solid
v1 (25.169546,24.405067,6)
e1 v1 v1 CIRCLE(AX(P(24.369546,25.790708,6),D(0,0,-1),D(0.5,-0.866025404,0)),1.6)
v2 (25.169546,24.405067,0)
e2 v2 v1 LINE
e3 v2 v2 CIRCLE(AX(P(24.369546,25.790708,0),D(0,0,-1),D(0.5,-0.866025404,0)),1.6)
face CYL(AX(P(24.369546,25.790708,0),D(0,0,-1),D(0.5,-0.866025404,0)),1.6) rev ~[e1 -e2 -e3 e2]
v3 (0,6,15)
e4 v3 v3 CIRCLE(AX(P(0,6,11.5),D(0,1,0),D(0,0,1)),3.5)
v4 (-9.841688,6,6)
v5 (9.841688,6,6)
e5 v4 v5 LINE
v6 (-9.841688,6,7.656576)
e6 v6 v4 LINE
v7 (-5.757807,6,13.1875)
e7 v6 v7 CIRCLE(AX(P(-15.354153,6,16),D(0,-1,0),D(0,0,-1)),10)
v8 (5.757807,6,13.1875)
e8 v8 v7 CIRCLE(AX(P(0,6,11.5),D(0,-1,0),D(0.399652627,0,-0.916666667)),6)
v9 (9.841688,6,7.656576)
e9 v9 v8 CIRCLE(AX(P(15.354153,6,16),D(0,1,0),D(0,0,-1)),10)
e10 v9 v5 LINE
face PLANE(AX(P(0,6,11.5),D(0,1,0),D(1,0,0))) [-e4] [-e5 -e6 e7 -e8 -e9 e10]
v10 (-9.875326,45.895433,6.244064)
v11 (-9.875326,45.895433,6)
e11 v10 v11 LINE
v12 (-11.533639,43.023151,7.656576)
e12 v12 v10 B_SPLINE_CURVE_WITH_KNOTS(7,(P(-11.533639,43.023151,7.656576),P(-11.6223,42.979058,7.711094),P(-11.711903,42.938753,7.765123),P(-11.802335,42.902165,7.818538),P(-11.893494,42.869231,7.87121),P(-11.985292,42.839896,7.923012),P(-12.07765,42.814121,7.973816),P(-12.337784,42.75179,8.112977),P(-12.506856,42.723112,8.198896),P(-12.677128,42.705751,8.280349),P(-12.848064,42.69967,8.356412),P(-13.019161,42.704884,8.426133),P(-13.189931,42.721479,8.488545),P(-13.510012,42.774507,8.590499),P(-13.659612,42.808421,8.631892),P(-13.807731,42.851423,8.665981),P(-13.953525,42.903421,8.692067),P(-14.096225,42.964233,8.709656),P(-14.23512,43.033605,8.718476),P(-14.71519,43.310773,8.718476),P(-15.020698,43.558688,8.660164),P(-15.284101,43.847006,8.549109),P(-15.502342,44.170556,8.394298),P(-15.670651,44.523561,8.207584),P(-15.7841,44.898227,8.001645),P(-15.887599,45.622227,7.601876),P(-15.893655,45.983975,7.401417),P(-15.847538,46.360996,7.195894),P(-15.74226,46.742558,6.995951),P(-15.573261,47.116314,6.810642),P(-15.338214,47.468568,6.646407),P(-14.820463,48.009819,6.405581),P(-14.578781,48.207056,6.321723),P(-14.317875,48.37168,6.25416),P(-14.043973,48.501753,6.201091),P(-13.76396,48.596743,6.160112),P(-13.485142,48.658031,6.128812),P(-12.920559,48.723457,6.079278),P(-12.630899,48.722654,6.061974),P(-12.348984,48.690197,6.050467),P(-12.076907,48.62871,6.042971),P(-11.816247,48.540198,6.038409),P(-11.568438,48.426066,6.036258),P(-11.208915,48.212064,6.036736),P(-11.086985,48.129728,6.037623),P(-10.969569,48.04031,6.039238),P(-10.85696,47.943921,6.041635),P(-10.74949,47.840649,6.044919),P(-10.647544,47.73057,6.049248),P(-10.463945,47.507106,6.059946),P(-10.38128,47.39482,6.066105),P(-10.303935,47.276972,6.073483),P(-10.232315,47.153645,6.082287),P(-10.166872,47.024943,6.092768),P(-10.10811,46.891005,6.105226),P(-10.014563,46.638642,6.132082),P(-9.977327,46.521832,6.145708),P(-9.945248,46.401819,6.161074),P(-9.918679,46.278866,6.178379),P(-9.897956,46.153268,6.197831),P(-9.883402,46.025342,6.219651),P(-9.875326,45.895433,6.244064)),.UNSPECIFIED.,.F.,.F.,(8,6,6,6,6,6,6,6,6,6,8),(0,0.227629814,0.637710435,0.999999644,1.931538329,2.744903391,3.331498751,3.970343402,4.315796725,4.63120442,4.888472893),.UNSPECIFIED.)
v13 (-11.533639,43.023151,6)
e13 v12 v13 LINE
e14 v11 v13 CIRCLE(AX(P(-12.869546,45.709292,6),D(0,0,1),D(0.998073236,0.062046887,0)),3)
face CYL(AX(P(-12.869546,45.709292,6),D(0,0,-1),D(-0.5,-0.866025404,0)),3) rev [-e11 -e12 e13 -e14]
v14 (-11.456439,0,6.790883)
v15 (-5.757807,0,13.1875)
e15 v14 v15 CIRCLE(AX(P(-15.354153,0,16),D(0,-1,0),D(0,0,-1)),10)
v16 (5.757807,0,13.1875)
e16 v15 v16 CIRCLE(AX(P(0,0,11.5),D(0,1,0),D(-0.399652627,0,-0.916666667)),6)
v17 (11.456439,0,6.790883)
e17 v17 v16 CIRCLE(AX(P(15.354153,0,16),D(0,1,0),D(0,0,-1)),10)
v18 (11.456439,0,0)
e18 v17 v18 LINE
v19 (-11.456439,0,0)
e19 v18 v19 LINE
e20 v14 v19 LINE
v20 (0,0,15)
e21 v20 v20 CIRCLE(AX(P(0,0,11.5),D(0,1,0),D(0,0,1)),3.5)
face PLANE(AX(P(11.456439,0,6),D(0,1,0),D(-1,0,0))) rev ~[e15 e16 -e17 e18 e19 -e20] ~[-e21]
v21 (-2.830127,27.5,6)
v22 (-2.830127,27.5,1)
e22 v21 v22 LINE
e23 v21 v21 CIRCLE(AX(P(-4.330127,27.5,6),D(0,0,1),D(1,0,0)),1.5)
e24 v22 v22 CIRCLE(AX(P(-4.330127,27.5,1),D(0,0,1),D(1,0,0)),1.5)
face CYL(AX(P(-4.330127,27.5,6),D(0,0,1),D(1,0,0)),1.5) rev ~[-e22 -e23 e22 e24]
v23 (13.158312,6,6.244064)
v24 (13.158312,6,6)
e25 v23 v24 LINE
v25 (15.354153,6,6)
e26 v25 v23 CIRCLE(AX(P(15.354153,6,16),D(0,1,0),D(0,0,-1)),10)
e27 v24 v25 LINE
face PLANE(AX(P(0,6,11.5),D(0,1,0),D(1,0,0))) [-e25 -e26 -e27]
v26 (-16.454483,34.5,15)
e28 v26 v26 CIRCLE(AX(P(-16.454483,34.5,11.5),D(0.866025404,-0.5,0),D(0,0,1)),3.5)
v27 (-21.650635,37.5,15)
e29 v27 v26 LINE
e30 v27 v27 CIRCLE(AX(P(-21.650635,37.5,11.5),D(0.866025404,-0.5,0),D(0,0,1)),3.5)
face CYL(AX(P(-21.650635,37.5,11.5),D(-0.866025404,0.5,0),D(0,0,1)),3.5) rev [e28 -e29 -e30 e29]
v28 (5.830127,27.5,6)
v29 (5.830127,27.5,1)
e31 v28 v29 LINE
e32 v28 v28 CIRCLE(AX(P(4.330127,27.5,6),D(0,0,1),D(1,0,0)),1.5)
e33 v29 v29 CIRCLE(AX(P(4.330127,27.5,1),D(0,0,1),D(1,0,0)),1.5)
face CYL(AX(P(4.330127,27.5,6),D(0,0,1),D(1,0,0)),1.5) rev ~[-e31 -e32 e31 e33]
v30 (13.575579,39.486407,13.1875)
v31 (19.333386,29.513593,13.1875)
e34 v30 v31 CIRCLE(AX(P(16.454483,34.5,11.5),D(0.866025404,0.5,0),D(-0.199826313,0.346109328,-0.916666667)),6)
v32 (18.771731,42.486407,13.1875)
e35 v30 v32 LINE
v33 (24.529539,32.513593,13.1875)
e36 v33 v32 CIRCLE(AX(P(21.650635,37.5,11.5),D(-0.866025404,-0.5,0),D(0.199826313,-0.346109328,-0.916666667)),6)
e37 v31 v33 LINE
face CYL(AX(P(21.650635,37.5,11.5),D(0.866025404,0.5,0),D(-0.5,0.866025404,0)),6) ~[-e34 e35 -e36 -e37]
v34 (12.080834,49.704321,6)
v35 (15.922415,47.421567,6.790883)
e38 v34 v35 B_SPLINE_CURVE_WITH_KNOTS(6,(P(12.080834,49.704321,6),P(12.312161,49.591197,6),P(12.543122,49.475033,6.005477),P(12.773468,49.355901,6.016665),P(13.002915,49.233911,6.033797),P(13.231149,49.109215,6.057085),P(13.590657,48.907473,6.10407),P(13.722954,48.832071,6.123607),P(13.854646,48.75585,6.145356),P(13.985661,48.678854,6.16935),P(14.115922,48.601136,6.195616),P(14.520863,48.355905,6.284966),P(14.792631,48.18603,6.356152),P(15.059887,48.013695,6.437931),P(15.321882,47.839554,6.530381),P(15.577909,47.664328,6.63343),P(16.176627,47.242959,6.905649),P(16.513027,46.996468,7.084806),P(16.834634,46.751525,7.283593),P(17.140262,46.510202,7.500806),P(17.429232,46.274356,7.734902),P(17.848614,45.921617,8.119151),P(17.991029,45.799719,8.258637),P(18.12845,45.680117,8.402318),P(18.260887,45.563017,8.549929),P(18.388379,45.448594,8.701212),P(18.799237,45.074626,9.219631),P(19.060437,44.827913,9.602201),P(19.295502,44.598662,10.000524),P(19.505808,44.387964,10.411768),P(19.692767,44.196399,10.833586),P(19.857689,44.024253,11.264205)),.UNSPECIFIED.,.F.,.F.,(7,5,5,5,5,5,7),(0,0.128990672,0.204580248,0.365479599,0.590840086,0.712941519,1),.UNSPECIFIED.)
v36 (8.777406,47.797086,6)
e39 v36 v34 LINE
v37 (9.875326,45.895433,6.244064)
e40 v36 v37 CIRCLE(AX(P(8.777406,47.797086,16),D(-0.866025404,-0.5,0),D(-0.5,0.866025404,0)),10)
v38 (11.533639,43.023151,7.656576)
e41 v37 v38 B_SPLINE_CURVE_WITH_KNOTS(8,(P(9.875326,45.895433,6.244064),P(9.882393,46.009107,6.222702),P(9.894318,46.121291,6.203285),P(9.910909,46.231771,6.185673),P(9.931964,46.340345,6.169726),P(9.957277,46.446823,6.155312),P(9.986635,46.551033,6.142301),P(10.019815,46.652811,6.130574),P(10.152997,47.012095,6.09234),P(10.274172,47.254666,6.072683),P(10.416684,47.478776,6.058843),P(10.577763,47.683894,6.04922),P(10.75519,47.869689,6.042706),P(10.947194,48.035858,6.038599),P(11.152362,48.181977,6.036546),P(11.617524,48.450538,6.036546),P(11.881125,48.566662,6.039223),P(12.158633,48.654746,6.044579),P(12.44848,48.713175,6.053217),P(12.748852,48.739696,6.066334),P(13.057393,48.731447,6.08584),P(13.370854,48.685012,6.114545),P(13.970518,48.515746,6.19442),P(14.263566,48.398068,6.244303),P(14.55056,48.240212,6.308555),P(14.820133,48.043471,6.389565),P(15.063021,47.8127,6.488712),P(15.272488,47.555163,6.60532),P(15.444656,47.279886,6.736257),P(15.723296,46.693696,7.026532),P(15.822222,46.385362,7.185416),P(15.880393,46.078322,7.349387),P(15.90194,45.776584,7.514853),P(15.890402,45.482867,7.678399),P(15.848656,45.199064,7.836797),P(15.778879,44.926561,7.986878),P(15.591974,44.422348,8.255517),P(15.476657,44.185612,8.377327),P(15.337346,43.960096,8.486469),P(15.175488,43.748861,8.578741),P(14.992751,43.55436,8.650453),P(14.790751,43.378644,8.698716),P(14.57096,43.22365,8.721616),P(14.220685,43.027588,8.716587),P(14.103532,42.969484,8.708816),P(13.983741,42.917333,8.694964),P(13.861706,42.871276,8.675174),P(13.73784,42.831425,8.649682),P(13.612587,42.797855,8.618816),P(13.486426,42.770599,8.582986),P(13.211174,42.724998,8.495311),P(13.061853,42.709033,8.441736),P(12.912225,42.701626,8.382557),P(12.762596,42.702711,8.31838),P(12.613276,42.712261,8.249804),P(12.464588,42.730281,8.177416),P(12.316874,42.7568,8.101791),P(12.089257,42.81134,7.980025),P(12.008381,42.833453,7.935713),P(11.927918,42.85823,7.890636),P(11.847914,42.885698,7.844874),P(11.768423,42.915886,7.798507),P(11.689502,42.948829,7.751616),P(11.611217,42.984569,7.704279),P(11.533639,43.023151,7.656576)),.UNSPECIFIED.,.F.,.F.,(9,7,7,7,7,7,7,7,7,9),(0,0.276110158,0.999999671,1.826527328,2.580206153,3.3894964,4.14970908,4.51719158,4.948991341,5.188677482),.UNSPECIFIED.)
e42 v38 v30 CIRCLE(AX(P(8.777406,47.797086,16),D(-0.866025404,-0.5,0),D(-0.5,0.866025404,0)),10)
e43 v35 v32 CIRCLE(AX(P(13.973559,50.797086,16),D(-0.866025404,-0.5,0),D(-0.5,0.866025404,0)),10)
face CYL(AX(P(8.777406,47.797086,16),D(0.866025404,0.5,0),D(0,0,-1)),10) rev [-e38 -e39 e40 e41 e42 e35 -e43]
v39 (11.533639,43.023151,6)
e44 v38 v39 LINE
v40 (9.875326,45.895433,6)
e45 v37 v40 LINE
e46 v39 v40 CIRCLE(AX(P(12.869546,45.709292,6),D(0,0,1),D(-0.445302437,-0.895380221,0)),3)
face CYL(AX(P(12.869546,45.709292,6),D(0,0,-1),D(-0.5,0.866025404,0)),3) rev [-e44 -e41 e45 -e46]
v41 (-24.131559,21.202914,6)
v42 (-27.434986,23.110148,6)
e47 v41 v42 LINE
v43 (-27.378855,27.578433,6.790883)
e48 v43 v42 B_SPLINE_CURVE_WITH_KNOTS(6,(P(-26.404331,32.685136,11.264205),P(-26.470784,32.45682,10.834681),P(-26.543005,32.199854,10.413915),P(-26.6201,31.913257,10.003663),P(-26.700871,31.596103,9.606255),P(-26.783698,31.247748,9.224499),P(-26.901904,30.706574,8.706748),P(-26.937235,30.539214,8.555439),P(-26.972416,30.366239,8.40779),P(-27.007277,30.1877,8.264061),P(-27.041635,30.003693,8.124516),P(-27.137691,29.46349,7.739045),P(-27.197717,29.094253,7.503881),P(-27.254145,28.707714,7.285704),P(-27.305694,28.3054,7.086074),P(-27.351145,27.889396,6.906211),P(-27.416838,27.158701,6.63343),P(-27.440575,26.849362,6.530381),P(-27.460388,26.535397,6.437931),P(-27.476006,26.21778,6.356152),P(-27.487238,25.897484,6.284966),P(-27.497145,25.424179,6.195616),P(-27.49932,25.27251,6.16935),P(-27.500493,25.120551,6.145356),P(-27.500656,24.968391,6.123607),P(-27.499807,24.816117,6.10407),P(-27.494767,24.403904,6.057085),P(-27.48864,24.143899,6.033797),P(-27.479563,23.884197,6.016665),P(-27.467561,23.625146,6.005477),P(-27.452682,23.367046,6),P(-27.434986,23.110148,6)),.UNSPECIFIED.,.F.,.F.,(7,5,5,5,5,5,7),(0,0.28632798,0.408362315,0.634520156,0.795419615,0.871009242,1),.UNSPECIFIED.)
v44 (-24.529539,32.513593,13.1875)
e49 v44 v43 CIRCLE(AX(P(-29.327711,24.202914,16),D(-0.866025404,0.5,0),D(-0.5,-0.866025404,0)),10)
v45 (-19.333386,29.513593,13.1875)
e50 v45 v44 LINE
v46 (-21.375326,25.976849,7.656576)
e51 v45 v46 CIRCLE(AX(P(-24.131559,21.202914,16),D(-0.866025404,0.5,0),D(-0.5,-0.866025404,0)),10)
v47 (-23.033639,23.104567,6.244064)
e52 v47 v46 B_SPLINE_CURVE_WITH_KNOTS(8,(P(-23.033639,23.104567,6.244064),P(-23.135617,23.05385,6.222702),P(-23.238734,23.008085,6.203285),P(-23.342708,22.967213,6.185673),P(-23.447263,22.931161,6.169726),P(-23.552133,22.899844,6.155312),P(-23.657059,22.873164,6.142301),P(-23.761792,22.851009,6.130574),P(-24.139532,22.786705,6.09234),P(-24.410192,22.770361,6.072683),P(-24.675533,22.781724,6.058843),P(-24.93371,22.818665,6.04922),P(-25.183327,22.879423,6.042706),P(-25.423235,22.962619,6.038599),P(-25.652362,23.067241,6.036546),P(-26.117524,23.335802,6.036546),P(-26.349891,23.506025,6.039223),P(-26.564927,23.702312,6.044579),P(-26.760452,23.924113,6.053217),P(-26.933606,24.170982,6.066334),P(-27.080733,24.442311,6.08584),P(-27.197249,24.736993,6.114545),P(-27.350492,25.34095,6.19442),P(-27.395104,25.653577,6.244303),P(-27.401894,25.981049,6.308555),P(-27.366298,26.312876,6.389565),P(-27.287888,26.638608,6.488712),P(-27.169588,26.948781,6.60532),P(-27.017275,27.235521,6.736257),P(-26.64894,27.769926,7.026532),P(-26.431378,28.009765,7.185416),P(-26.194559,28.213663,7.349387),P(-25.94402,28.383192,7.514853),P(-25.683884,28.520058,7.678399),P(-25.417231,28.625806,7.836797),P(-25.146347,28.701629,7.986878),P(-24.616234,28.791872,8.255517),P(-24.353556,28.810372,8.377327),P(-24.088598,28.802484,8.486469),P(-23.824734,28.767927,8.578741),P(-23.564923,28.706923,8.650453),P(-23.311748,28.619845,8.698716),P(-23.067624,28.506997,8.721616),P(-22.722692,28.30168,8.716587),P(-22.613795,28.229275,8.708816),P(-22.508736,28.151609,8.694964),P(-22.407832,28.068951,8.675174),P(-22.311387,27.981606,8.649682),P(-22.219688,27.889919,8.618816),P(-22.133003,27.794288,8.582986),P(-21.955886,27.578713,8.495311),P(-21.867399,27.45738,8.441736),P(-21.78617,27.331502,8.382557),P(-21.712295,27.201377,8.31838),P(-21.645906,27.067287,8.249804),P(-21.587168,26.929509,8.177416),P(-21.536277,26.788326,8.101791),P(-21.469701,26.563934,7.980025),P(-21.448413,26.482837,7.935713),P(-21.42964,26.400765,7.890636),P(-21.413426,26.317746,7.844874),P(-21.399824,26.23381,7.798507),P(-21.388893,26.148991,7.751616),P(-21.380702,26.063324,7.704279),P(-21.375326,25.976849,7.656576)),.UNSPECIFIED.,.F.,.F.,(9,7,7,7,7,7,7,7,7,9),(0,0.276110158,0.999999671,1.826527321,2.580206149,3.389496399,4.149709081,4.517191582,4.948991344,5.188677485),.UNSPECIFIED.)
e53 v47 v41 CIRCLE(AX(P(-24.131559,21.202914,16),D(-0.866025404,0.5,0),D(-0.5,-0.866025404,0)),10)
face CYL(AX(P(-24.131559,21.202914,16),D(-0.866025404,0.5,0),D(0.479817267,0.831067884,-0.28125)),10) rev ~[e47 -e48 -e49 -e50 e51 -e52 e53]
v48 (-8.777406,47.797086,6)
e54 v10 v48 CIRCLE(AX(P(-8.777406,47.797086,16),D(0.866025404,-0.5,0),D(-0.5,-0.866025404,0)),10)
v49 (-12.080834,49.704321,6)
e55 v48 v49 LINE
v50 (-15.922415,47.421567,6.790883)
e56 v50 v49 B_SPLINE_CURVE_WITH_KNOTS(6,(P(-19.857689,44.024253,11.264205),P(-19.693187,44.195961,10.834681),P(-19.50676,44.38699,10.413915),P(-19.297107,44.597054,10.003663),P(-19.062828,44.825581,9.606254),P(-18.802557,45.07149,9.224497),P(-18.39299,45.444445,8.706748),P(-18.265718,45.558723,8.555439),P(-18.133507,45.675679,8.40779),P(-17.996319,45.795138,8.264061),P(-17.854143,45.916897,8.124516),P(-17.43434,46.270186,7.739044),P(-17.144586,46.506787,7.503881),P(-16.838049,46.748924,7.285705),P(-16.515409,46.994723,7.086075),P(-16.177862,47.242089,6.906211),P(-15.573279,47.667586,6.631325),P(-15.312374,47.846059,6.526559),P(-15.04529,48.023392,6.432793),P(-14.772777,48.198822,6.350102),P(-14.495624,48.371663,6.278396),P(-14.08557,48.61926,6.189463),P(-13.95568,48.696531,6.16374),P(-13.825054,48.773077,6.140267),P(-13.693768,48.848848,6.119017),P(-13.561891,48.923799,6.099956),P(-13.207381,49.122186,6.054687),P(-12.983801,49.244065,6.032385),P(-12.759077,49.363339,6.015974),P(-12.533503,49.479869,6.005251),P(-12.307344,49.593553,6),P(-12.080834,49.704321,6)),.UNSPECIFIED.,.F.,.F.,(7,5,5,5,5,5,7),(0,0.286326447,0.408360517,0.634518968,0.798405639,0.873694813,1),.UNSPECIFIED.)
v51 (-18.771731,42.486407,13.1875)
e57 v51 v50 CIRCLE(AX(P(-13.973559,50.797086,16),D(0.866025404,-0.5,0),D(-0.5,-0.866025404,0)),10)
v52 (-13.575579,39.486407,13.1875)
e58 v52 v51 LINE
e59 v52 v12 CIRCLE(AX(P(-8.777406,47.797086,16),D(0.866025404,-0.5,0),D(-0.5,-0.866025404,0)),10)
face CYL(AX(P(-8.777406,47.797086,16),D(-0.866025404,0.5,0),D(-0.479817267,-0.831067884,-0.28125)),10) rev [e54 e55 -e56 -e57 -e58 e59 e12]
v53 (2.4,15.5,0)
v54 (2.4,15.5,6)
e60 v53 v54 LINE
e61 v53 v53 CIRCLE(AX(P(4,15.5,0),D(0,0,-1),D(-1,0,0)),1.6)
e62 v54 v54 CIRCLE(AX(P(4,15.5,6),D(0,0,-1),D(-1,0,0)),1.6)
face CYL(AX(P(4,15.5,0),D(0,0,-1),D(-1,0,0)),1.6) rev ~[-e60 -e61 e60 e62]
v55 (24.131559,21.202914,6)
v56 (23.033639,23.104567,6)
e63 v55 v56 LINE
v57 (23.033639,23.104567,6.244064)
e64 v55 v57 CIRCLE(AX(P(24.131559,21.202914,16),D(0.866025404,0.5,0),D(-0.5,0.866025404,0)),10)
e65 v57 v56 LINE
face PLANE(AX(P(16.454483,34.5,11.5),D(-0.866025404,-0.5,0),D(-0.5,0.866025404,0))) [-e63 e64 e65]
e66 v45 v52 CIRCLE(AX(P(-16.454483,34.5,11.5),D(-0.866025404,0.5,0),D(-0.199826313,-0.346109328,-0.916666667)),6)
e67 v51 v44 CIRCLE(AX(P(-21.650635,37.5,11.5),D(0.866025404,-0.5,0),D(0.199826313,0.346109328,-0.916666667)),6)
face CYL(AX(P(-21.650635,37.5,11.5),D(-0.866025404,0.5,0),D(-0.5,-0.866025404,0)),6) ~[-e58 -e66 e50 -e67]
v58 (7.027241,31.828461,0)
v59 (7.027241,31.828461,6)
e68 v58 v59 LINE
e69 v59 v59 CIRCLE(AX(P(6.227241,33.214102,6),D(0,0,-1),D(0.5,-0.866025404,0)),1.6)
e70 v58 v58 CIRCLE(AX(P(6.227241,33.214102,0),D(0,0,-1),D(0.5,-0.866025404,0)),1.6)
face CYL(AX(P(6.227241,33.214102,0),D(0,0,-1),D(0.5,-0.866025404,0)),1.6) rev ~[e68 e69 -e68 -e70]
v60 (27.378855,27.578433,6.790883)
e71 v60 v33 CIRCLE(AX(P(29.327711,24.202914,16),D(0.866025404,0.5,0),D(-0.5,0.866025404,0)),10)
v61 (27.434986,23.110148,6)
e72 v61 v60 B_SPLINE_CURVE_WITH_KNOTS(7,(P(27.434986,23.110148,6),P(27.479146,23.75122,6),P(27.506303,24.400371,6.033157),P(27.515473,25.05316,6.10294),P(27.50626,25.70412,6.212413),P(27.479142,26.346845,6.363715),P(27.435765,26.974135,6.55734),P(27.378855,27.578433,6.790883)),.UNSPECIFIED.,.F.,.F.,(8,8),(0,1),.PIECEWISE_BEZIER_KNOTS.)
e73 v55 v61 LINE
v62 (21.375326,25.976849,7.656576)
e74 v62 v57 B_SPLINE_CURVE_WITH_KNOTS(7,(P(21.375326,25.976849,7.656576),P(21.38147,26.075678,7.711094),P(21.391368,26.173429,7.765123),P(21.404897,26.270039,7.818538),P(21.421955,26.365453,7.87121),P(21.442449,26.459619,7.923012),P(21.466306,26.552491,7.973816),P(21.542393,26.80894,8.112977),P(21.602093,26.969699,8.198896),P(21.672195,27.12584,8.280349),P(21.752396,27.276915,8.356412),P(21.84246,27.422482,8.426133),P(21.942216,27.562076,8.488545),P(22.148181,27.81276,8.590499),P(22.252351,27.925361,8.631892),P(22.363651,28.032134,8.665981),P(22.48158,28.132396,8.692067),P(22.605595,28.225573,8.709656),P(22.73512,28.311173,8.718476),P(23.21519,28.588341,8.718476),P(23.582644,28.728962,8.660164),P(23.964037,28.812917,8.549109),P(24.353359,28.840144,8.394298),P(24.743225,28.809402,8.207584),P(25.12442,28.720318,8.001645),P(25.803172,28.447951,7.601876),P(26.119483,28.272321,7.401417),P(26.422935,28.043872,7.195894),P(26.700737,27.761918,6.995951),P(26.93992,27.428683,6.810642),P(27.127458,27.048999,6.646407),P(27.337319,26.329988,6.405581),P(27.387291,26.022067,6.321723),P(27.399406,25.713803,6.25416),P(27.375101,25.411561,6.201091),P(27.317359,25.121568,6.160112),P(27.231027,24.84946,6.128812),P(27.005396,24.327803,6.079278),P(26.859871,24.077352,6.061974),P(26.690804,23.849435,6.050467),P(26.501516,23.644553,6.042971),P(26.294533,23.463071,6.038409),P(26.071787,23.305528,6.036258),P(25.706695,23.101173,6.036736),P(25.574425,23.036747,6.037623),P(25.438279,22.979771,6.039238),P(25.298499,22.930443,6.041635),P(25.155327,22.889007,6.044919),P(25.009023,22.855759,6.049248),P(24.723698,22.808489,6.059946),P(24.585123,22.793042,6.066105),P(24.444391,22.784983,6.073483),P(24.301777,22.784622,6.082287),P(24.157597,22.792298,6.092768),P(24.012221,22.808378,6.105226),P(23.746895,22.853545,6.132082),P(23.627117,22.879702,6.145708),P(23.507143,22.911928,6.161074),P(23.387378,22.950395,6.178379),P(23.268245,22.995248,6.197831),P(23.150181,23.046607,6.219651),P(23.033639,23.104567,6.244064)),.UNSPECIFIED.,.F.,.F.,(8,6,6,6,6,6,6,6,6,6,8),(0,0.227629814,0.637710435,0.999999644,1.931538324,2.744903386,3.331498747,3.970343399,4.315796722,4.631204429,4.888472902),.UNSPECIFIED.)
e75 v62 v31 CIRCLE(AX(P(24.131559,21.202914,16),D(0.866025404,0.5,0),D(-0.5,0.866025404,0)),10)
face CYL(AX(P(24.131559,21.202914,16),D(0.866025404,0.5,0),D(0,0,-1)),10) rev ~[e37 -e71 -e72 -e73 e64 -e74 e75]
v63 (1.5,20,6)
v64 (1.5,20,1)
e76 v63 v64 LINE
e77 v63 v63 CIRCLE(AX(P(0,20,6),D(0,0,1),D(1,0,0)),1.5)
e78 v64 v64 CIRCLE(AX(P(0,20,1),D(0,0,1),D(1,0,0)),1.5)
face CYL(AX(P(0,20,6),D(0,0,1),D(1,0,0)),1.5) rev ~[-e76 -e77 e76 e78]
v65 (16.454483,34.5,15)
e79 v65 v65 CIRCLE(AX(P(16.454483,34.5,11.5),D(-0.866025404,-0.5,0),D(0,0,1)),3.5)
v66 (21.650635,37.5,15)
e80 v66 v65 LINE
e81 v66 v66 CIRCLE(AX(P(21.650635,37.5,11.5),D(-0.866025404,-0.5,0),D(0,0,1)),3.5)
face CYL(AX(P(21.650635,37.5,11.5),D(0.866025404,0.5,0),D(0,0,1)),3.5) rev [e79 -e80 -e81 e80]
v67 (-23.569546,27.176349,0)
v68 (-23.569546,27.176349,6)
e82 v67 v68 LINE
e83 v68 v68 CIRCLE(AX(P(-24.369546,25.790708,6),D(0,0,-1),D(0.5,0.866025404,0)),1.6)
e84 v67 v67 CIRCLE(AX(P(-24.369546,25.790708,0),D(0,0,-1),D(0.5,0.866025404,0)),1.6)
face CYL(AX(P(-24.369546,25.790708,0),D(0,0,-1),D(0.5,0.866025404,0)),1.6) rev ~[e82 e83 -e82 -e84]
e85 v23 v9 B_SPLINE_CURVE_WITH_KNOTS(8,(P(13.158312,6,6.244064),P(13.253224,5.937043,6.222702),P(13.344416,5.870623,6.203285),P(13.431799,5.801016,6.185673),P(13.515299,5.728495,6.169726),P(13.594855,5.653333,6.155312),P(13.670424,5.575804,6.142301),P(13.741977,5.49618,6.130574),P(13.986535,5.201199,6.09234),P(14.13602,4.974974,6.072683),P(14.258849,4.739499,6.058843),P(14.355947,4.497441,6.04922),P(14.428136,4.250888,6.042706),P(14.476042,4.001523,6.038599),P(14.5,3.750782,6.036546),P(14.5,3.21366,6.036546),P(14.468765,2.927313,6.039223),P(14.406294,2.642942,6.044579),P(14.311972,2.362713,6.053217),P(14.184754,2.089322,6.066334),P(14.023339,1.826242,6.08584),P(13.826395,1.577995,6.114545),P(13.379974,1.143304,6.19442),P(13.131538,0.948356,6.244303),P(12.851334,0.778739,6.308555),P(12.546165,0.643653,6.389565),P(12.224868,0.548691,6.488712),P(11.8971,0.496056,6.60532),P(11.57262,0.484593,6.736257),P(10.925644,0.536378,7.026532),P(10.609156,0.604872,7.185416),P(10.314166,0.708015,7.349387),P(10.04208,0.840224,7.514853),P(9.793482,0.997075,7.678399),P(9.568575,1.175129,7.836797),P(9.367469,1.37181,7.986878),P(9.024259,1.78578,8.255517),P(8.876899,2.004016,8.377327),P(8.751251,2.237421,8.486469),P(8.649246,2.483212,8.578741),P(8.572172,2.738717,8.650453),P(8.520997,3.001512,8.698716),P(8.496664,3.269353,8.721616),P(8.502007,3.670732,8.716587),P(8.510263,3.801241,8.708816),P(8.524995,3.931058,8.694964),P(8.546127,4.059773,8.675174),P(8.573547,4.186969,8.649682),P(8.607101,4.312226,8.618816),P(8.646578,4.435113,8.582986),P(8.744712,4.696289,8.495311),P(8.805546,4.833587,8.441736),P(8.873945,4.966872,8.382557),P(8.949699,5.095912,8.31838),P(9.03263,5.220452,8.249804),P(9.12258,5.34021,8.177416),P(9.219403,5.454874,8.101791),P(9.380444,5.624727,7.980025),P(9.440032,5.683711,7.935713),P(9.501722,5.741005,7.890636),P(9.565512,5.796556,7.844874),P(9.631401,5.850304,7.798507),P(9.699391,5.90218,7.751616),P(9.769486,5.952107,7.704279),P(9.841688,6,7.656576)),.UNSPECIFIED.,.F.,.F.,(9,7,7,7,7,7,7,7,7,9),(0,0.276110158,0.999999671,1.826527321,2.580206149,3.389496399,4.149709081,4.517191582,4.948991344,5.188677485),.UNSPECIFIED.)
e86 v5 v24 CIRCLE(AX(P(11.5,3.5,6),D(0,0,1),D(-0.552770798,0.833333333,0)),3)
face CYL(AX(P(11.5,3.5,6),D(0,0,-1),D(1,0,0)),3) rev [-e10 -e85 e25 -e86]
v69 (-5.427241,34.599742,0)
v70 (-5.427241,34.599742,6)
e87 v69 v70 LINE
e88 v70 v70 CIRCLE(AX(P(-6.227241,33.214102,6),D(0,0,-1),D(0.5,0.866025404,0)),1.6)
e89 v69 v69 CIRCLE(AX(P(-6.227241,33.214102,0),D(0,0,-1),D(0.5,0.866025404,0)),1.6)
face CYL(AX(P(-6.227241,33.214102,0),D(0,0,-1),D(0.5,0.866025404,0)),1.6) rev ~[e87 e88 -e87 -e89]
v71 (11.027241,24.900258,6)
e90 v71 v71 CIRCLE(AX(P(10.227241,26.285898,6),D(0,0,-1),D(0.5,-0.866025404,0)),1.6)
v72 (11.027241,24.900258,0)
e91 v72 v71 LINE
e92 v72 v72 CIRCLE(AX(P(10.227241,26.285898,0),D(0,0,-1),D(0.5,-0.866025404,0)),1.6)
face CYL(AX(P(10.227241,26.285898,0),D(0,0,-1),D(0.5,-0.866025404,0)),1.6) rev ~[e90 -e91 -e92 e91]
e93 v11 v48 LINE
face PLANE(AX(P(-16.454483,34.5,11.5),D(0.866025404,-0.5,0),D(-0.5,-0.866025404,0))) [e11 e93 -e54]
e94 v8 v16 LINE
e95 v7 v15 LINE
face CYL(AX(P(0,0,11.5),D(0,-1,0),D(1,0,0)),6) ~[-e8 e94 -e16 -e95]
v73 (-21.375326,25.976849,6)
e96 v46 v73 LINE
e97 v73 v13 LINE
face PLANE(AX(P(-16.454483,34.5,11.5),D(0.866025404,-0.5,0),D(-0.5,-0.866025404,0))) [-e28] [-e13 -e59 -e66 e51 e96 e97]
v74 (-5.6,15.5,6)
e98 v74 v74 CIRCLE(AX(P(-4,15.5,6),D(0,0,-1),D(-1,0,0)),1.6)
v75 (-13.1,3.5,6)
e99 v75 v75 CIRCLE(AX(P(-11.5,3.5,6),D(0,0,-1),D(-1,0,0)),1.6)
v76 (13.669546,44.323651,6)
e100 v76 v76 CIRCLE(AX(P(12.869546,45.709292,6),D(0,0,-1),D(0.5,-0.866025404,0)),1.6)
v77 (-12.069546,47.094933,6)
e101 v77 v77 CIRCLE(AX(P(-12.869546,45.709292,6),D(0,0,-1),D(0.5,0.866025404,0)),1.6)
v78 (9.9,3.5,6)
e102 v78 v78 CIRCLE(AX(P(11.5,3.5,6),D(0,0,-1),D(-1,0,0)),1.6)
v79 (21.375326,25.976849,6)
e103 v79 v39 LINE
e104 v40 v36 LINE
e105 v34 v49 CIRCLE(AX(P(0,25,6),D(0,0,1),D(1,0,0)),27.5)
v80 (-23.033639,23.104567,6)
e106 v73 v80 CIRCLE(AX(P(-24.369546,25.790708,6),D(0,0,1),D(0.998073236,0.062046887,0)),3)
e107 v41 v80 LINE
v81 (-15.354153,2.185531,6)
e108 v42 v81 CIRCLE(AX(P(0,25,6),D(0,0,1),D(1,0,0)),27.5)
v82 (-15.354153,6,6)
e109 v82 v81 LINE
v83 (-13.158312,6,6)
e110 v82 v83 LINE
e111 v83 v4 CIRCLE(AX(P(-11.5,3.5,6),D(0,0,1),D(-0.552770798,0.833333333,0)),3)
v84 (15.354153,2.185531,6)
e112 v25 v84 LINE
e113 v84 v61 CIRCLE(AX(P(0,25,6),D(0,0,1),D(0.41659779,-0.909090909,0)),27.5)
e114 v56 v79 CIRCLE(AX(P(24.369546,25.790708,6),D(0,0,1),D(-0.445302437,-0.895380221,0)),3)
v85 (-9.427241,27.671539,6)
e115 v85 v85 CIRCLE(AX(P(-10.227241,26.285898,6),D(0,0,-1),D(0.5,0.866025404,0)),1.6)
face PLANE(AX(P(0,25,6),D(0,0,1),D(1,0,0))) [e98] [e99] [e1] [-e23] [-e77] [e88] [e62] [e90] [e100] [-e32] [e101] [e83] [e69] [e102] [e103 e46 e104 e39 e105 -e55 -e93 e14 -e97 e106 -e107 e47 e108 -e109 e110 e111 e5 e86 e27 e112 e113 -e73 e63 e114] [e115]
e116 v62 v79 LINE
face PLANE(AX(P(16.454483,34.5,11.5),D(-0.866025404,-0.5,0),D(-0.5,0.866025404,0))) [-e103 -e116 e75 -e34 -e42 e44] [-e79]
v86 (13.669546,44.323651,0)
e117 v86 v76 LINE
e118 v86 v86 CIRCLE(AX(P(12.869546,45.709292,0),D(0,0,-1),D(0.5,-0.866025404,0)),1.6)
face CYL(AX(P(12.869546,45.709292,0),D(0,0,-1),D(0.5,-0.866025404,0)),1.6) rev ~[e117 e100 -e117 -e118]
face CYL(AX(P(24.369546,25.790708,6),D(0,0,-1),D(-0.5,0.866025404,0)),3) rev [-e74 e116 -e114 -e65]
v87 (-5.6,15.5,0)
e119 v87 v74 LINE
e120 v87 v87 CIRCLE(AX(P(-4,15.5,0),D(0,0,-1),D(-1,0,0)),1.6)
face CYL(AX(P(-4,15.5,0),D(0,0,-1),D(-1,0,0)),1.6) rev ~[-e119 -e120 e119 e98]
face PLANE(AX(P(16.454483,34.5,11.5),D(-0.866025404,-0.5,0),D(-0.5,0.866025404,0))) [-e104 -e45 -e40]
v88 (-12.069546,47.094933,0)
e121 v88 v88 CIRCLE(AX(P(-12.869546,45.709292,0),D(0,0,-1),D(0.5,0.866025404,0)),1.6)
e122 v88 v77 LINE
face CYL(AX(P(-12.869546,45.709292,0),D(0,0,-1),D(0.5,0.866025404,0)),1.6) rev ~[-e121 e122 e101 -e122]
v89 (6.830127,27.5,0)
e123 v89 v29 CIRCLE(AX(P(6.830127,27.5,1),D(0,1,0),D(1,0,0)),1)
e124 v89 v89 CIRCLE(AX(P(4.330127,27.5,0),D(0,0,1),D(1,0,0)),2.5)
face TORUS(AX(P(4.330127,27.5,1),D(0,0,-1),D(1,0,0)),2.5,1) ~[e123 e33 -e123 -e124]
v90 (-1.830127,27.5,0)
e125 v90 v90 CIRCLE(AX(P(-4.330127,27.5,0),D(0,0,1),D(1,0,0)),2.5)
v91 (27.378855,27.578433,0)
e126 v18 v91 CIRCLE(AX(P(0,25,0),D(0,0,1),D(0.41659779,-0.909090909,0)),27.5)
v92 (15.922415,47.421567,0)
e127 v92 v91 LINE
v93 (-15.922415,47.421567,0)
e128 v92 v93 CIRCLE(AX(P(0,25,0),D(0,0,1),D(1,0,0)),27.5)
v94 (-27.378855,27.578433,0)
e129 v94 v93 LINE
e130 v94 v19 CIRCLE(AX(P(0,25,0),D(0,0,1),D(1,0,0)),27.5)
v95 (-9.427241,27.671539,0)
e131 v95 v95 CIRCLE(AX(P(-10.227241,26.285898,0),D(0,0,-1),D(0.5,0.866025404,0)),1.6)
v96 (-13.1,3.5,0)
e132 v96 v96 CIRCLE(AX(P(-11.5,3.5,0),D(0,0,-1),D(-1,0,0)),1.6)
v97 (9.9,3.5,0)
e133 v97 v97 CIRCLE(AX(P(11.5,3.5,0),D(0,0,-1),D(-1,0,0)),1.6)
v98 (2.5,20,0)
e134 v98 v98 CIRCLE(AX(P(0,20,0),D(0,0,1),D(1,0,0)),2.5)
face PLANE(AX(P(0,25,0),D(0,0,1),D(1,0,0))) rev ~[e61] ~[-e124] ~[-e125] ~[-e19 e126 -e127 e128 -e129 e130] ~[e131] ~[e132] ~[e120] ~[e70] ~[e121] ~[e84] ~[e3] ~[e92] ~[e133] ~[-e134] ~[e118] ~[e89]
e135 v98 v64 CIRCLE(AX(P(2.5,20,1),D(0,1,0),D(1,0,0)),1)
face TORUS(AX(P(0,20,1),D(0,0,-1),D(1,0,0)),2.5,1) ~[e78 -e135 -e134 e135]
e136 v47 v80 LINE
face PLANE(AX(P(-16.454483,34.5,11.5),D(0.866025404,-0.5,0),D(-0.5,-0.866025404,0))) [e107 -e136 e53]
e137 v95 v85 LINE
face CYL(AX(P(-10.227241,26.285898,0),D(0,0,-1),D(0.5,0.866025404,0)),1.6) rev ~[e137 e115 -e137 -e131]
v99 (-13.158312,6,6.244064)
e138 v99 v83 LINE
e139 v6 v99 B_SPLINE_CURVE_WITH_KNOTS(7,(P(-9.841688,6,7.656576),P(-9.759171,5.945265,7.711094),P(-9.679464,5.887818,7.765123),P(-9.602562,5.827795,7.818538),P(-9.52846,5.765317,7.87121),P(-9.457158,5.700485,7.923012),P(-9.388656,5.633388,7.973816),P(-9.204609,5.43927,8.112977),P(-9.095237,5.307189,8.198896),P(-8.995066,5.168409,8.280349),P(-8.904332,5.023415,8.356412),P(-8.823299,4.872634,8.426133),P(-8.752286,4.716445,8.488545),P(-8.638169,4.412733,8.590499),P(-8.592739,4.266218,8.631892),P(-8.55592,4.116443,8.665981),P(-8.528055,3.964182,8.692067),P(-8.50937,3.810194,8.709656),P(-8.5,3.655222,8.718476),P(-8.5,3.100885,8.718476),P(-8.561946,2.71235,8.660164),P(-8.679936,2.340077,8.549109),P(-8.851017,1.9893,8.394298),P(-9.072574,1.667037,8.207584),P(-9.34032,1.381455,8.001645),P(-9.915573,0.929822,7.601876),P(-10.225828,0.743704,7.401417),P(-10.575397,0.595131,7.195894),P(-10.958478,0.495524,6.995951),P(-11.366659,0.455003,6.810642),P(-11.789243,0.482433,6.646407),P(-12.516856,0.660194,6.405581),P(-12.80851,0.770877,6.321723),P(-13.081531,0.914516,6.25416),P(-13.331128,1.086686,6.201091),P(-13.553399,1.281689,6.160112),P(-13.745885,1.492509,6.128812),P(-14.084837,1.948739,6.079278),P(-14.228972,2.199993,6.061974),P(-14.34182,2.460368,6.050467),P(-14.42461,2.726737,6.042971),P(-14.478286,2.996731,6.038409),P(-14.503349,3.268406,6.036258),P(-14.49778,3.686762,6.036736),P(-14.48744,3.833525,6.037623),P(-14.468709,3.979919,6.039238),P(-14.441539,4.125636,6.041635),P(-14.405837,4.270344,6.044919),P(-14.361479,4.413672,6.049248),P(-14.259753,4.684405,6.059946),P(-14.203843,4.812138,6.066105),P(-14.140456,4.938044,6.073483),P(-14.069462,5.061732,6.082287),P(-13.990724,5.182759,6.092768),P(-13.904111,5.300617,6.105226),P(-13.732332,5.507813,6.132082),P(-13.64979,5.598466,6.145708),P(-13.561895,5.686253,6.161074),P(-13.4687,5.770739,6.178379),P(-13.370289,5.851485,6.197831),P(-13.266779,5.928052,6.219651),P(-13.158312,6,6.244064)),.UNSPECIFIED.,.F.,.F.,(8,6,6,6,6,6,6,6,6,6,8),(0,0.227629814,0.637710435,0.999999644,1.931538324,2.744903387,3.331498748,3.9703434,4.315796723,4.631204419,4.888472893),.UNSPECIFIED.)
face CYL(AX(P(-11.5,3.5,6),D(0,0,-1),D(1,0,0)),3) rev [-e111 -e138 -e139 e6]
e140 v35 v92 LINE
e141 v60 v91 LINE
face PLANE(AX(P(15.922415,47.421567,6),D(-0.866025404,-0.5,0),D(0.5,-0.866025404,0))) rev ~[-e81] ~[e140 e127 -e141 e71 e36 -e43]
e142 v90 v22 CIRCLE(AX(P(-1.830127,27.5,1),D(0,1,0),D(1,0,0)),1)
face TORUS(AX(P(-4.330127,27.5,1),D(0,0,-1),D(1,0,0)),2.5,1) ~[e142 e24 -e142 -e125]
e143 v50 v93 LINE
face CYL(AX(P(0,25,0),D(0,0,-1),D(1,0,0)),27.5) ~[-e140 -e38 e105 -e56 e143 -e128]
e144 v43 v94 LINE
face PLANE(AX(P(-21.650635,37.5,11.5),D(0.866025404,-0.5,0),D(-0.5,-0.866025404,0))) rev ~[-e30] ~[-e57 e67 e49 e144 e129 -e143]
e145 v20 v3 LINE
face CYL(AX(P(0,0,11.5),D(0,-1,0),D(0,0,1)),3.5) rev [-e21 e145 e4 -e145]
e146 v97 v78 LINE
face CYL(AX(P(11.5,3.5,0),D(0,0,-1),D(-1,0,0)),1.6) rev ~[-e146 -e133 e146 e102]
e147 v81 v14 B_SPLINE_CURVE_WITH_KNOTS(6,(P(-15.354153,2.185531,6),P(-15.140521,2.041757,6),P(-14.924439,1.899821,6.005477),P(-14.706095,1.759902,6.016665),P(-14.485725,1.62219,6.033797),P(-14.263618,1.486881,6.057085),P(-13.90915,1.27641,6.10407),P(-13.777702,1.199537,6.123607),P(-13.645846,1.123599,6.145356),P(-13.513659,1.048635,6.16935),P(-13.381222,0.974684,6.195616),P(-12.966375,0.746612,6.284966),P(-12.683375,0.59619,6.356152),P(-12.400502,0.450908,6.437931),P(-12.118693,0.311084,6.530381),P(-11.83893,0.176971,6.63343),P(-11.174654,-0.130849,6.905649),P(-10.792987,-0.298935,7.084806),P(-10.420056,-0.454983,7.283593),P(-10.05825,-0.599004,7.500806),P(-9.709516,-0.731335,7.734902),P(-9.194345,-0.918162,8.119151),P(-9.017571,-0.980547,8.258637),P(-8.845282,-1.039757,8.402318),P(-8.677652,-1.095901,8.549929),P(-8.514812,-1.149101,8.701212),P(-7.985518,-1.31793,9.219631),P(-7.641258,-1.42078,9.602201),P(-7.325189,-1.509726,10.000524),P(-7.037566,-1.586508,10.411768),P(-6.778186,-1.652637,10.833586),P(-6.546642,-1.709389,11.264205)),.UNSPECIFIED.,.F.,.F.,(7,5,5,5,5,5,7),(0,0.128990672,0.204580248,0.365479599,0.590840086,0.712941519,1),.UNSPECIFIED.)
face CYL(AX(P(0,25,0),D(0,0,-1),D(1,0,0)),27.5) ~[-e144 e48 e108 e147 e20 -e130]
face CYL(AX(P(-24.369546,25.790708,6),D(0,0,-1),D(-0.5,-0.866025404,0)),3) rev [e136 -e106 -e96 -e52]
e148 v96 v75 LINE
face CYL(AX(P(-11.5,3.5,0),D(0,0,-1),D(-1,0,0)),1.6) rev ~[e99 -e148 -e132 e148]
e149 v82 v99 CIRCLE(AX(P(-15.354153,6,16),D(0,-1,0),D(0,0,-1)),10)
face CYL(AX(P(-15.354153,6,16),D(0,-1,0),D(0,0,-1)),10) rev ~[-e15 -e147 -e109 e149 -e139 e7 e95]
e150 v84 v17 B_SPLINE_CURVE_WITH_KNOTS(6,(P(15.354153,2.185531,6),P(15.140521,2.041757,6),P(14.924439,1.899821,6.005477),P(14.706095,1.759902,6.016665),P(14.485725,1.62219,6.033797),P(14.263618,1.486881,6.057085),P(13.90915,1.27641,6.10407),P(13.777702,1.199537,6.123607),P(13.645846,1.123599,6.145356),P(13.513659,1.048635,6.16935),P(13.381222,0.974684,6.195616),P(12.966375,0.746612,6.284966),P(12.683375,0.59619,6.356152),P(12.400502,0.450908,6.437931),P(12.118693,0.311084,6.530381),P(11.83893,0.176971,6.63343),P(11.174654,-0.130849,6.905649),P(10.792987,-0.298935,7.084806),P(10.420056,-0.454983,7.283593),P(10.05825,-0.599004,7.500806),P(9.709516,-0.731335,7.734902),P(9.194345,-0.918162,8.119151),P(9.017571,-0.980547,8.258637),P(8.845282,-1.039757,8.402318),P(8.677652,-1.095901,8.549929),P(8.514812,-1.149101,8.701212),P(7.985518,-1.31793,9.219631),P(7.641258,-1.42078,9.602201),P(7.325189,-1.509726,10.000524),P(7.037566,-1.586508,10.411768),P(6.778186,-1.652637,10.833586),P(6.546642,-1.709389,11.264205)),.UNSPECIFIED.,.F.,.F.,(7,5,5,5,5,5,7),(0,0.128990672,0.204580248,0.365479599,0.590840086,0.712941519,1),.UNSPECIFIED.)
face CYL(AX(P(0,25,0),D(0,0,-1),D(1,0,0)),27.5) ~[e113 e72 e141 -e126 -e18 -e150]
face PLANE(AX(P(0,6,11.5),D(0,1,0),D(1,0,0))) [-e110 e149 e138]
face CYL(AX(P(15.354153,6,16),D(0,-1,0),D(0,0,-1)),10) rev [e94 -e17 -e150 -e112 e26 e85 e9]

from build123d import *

# Parameters (mm, degrees)
SKETCH_1_R               = 27.5
EXTRUDE_1_DEPTH          = 6
SKETCH_2_R               = 6
SKETCH_2_R_2             = 3.499999999999999
EXTRUDE_2_DEPTH          = 6
PATTERN_CIRCULAR_3_COUNT = 3
CUT_EXTRUDE_1_DEPTH      = 61.37176492367935
FILLET_1_R               = 10
SKETCH_6_R               = 1.6000000000000016
SKETCH_6_R_2             = 1.6
CUT_EXTRUDE_2_DEPTH      = 62.79603560803595
SKETCH_7_R               = 2.999999999999999
CUT_EXTRUDE_3_DEPTH      = 61.37176506339406
PATTERN_CIRCULAR_4_COUNT = 3
SKETCH_8_R               = 1.5000000000000009
SKETCH_8_R_2             = 1.5000000000000018
SKETCH_8_R_3             = 1.5
CUT_EXTRUDE_4_DEPTH      = 61.37176506339406
FILLET_2_R               = 1


with BuildPart() as part:
    # 草图1 → 凸台-拉伸1 (new body)
    with BuildSketch(Plane.XY):
        with Locations((0, 25)):
            Circle(SKETCH_1_R)
    extrude(amount=EXTRUDE_1_DEPTH)

    # 草图2 → 凸台-拉伸2 (add)
    with BuildSketch(Plane(origin=(0, 0, 0), x_dir=(1, 0, 0), z_dir=(0, 1, 0))):
        with Locations((0, -11.5)):
            Circle(SKETCH_2_R)
        with Locations(Location((0, -11.5, 0), (0, 0, 270))):
            Circle(SKETCH_2_R_2, mode=Mode.SUBTRACT)
    extrude_2 = extrude(amount=EXTRUDE_2_DEPTH)

    # 阵列(圆周)3: 凸台-拉伸2 ×3 about axis
    pattern_circular_3_axis = Axis((8.33e-15, 25.000000000000004, 0), (0, 0, 1))
    for i in range(1, PATTERN_CIRCULAR_3_COUNT):
        add(extrude_2.rotate(pattern_circular_3_axis, i * 360 / PATTERN_CIRCULAR_3_COUNT))

    # 草图5 → 切除-拉伸1 (cut, through all)
    with BuildSketch(Plane.XY.offset(6)):
        with BuildLine():
            Line((-20.45167721378295, 39.57665596572934), (-15.92241547591627, 47.42156741649214))
            ThreePointArc((-15.922415475916265, 47.421567416492145), (-23.815698604072065, 38.75), (-27.378854713305756, 27.578432583507904))
            Line((-27.378854713305753, 27.578432583507908), (-22.8495929754393, 35.423344034270315))
            Line((-22.849592975439244, 35.42334403427027), (-20.451677213782926, 39.57665596572932))
        make_face()
        with BuildLine():
            Line((-2.3979157616563604, 0), (-11.456439237389594, 0))
            ThreePointArc((-11.456439237389615, 7.11e-15), (-5.05e-15, -2.5), (11.456439237389606, 3.55e-15))
            Line((11.456439237389601, 0), (2.3979157616563604, 0))
            Line((2.397915761656361, 0), (-2.397915761656361, 0))
        make_face()
        with BuildLine():
            ThreePointArc((27.378854713305756, 27.578432583507883), (23.815698604072058, 38.75000000000001), (15.922415475916232, 47.42156741649217))
            Line((15.922415475916235, 47.421567416492174), (20.451677213782762, 39.576655965729636))
            Line((20.451677213782723, 39.576655965729614), (22.8495929754391, 35.42334403427059))
            Line((22.849592975439123, 35.423344034270606), (27.378854713305756, 27.578432583507883))
        make_face()
    extrude(amount=-CUT_EXTRUDE_1_DEPTH, mode=Mode.SUBTRACT)

    # 圆角1
    fillet_1_edges = [part.edges().sort_by_distance(p)[0] for p in [
        (-17.853601002429457, 38.076655965729536, 6),
        (-20.25151676408582, 33.92334403427051, 6),
        (20.251516764085842, 33.92334403427047, 6),
        (17.853601002429485, 38.076655965729515, 6),
        (-2.3979157616563596, 3, 6),
        (2.3979157616563596, 3, 6),
    ]]
    fillet(fillet_1_edges, radius=FILLET_1_R)

    # 草图6 → 切除-拉伸2 (cut, through all)
    with BuildSketch(Plane(origin=(0, 0, 0), x_dir=(-1, 0, 0), z_dir=(0, 0, -1))):
        with Locations((-11.5, 3.5)):
            Circle(SKETCH_6_R)
        with Locations((11.5, 3.5)):
            Circle(SKETCH_6_R)
        with Locations((-4.000000000000002, 15.5)):
            Circle(SKETCH_6_R_2)
        with Locations((3.9999999999999982, 15.5)):
            Circle(SKETCH_6_R_2)
    cut_extrude_2 = extrude(amount=-CUT_EXTRUDE_2_DEPTH, mode=Mode.SUBTRACT)

    # 草图7 → 切除-拉伸3 (cut, through all)
    with BuildSketch(Plane.XY.offset(6)):
        with Locations((-11.5, 3.5)):
            Circle(SKETCH_7_R)
        with Locations((11.5, 3.5)):
            Circle(SKETCH_7_R)
    cut_extrude_3 = extrude(amount=CUT_EXTRUDE_3_DEPTH, mode=Mode.SUBTRACT)

    # 阵列(圆周)4: 切除-拉伸2, 切除-拉伸3 ×3 about axis
    pattern_circular_4_axis = Axis((0, 25.00000000000001, 0), (0, 0, 1))
    add([cut_extrude_2.rotate(pattern_circular_4_axis, i * 360 / PATTERN_CIRCULAR_4_COUNT) for i in range(1, PATTERN_CIRCULAR_4_COUNT)], mode=Mode.SUBTRACT)
    add([cut_extrude_3.rotate(pattern_circular_4_axis, i * 360 / PATTERN_CIRCULAR_4_COUNT) for i in range(1, PATTERN_CIRCULAR_4_COUNT)], mode=Mode.SUBTRACT)

    # 草图8 → 切除-拉伸4 (cut, through all)
    with BuildSketch(Plane.XY.offset(6)):
        with Locations((0, 20)):
            Circle(SKETCH_8_R)
        with Locations((-4.330127018922196, 27.500000000000004)):
            Circle(SKETCH_8_R_2)
        with Locations((4.330127018922196, 27.5)):
            Circle(SKETCH_8_R_3)
    extrude(amount=-CUT_EXTRUDE_4_DEPTH, mode=Mode.SUBTRACT)

    # 圆角2
    fillet_2_edges = [part.edges().sort_by_distance(p)[0] for p in [
        (-1.5000000000000009, 20, 0),
        (-5.830127018922198, 27.500000000000004, 0),
        (2.8301270189221963, 27.5, 0),
    ]]
    fillet(fillet_2_edges, radius=FILLET_2_R)


solid = part.part
